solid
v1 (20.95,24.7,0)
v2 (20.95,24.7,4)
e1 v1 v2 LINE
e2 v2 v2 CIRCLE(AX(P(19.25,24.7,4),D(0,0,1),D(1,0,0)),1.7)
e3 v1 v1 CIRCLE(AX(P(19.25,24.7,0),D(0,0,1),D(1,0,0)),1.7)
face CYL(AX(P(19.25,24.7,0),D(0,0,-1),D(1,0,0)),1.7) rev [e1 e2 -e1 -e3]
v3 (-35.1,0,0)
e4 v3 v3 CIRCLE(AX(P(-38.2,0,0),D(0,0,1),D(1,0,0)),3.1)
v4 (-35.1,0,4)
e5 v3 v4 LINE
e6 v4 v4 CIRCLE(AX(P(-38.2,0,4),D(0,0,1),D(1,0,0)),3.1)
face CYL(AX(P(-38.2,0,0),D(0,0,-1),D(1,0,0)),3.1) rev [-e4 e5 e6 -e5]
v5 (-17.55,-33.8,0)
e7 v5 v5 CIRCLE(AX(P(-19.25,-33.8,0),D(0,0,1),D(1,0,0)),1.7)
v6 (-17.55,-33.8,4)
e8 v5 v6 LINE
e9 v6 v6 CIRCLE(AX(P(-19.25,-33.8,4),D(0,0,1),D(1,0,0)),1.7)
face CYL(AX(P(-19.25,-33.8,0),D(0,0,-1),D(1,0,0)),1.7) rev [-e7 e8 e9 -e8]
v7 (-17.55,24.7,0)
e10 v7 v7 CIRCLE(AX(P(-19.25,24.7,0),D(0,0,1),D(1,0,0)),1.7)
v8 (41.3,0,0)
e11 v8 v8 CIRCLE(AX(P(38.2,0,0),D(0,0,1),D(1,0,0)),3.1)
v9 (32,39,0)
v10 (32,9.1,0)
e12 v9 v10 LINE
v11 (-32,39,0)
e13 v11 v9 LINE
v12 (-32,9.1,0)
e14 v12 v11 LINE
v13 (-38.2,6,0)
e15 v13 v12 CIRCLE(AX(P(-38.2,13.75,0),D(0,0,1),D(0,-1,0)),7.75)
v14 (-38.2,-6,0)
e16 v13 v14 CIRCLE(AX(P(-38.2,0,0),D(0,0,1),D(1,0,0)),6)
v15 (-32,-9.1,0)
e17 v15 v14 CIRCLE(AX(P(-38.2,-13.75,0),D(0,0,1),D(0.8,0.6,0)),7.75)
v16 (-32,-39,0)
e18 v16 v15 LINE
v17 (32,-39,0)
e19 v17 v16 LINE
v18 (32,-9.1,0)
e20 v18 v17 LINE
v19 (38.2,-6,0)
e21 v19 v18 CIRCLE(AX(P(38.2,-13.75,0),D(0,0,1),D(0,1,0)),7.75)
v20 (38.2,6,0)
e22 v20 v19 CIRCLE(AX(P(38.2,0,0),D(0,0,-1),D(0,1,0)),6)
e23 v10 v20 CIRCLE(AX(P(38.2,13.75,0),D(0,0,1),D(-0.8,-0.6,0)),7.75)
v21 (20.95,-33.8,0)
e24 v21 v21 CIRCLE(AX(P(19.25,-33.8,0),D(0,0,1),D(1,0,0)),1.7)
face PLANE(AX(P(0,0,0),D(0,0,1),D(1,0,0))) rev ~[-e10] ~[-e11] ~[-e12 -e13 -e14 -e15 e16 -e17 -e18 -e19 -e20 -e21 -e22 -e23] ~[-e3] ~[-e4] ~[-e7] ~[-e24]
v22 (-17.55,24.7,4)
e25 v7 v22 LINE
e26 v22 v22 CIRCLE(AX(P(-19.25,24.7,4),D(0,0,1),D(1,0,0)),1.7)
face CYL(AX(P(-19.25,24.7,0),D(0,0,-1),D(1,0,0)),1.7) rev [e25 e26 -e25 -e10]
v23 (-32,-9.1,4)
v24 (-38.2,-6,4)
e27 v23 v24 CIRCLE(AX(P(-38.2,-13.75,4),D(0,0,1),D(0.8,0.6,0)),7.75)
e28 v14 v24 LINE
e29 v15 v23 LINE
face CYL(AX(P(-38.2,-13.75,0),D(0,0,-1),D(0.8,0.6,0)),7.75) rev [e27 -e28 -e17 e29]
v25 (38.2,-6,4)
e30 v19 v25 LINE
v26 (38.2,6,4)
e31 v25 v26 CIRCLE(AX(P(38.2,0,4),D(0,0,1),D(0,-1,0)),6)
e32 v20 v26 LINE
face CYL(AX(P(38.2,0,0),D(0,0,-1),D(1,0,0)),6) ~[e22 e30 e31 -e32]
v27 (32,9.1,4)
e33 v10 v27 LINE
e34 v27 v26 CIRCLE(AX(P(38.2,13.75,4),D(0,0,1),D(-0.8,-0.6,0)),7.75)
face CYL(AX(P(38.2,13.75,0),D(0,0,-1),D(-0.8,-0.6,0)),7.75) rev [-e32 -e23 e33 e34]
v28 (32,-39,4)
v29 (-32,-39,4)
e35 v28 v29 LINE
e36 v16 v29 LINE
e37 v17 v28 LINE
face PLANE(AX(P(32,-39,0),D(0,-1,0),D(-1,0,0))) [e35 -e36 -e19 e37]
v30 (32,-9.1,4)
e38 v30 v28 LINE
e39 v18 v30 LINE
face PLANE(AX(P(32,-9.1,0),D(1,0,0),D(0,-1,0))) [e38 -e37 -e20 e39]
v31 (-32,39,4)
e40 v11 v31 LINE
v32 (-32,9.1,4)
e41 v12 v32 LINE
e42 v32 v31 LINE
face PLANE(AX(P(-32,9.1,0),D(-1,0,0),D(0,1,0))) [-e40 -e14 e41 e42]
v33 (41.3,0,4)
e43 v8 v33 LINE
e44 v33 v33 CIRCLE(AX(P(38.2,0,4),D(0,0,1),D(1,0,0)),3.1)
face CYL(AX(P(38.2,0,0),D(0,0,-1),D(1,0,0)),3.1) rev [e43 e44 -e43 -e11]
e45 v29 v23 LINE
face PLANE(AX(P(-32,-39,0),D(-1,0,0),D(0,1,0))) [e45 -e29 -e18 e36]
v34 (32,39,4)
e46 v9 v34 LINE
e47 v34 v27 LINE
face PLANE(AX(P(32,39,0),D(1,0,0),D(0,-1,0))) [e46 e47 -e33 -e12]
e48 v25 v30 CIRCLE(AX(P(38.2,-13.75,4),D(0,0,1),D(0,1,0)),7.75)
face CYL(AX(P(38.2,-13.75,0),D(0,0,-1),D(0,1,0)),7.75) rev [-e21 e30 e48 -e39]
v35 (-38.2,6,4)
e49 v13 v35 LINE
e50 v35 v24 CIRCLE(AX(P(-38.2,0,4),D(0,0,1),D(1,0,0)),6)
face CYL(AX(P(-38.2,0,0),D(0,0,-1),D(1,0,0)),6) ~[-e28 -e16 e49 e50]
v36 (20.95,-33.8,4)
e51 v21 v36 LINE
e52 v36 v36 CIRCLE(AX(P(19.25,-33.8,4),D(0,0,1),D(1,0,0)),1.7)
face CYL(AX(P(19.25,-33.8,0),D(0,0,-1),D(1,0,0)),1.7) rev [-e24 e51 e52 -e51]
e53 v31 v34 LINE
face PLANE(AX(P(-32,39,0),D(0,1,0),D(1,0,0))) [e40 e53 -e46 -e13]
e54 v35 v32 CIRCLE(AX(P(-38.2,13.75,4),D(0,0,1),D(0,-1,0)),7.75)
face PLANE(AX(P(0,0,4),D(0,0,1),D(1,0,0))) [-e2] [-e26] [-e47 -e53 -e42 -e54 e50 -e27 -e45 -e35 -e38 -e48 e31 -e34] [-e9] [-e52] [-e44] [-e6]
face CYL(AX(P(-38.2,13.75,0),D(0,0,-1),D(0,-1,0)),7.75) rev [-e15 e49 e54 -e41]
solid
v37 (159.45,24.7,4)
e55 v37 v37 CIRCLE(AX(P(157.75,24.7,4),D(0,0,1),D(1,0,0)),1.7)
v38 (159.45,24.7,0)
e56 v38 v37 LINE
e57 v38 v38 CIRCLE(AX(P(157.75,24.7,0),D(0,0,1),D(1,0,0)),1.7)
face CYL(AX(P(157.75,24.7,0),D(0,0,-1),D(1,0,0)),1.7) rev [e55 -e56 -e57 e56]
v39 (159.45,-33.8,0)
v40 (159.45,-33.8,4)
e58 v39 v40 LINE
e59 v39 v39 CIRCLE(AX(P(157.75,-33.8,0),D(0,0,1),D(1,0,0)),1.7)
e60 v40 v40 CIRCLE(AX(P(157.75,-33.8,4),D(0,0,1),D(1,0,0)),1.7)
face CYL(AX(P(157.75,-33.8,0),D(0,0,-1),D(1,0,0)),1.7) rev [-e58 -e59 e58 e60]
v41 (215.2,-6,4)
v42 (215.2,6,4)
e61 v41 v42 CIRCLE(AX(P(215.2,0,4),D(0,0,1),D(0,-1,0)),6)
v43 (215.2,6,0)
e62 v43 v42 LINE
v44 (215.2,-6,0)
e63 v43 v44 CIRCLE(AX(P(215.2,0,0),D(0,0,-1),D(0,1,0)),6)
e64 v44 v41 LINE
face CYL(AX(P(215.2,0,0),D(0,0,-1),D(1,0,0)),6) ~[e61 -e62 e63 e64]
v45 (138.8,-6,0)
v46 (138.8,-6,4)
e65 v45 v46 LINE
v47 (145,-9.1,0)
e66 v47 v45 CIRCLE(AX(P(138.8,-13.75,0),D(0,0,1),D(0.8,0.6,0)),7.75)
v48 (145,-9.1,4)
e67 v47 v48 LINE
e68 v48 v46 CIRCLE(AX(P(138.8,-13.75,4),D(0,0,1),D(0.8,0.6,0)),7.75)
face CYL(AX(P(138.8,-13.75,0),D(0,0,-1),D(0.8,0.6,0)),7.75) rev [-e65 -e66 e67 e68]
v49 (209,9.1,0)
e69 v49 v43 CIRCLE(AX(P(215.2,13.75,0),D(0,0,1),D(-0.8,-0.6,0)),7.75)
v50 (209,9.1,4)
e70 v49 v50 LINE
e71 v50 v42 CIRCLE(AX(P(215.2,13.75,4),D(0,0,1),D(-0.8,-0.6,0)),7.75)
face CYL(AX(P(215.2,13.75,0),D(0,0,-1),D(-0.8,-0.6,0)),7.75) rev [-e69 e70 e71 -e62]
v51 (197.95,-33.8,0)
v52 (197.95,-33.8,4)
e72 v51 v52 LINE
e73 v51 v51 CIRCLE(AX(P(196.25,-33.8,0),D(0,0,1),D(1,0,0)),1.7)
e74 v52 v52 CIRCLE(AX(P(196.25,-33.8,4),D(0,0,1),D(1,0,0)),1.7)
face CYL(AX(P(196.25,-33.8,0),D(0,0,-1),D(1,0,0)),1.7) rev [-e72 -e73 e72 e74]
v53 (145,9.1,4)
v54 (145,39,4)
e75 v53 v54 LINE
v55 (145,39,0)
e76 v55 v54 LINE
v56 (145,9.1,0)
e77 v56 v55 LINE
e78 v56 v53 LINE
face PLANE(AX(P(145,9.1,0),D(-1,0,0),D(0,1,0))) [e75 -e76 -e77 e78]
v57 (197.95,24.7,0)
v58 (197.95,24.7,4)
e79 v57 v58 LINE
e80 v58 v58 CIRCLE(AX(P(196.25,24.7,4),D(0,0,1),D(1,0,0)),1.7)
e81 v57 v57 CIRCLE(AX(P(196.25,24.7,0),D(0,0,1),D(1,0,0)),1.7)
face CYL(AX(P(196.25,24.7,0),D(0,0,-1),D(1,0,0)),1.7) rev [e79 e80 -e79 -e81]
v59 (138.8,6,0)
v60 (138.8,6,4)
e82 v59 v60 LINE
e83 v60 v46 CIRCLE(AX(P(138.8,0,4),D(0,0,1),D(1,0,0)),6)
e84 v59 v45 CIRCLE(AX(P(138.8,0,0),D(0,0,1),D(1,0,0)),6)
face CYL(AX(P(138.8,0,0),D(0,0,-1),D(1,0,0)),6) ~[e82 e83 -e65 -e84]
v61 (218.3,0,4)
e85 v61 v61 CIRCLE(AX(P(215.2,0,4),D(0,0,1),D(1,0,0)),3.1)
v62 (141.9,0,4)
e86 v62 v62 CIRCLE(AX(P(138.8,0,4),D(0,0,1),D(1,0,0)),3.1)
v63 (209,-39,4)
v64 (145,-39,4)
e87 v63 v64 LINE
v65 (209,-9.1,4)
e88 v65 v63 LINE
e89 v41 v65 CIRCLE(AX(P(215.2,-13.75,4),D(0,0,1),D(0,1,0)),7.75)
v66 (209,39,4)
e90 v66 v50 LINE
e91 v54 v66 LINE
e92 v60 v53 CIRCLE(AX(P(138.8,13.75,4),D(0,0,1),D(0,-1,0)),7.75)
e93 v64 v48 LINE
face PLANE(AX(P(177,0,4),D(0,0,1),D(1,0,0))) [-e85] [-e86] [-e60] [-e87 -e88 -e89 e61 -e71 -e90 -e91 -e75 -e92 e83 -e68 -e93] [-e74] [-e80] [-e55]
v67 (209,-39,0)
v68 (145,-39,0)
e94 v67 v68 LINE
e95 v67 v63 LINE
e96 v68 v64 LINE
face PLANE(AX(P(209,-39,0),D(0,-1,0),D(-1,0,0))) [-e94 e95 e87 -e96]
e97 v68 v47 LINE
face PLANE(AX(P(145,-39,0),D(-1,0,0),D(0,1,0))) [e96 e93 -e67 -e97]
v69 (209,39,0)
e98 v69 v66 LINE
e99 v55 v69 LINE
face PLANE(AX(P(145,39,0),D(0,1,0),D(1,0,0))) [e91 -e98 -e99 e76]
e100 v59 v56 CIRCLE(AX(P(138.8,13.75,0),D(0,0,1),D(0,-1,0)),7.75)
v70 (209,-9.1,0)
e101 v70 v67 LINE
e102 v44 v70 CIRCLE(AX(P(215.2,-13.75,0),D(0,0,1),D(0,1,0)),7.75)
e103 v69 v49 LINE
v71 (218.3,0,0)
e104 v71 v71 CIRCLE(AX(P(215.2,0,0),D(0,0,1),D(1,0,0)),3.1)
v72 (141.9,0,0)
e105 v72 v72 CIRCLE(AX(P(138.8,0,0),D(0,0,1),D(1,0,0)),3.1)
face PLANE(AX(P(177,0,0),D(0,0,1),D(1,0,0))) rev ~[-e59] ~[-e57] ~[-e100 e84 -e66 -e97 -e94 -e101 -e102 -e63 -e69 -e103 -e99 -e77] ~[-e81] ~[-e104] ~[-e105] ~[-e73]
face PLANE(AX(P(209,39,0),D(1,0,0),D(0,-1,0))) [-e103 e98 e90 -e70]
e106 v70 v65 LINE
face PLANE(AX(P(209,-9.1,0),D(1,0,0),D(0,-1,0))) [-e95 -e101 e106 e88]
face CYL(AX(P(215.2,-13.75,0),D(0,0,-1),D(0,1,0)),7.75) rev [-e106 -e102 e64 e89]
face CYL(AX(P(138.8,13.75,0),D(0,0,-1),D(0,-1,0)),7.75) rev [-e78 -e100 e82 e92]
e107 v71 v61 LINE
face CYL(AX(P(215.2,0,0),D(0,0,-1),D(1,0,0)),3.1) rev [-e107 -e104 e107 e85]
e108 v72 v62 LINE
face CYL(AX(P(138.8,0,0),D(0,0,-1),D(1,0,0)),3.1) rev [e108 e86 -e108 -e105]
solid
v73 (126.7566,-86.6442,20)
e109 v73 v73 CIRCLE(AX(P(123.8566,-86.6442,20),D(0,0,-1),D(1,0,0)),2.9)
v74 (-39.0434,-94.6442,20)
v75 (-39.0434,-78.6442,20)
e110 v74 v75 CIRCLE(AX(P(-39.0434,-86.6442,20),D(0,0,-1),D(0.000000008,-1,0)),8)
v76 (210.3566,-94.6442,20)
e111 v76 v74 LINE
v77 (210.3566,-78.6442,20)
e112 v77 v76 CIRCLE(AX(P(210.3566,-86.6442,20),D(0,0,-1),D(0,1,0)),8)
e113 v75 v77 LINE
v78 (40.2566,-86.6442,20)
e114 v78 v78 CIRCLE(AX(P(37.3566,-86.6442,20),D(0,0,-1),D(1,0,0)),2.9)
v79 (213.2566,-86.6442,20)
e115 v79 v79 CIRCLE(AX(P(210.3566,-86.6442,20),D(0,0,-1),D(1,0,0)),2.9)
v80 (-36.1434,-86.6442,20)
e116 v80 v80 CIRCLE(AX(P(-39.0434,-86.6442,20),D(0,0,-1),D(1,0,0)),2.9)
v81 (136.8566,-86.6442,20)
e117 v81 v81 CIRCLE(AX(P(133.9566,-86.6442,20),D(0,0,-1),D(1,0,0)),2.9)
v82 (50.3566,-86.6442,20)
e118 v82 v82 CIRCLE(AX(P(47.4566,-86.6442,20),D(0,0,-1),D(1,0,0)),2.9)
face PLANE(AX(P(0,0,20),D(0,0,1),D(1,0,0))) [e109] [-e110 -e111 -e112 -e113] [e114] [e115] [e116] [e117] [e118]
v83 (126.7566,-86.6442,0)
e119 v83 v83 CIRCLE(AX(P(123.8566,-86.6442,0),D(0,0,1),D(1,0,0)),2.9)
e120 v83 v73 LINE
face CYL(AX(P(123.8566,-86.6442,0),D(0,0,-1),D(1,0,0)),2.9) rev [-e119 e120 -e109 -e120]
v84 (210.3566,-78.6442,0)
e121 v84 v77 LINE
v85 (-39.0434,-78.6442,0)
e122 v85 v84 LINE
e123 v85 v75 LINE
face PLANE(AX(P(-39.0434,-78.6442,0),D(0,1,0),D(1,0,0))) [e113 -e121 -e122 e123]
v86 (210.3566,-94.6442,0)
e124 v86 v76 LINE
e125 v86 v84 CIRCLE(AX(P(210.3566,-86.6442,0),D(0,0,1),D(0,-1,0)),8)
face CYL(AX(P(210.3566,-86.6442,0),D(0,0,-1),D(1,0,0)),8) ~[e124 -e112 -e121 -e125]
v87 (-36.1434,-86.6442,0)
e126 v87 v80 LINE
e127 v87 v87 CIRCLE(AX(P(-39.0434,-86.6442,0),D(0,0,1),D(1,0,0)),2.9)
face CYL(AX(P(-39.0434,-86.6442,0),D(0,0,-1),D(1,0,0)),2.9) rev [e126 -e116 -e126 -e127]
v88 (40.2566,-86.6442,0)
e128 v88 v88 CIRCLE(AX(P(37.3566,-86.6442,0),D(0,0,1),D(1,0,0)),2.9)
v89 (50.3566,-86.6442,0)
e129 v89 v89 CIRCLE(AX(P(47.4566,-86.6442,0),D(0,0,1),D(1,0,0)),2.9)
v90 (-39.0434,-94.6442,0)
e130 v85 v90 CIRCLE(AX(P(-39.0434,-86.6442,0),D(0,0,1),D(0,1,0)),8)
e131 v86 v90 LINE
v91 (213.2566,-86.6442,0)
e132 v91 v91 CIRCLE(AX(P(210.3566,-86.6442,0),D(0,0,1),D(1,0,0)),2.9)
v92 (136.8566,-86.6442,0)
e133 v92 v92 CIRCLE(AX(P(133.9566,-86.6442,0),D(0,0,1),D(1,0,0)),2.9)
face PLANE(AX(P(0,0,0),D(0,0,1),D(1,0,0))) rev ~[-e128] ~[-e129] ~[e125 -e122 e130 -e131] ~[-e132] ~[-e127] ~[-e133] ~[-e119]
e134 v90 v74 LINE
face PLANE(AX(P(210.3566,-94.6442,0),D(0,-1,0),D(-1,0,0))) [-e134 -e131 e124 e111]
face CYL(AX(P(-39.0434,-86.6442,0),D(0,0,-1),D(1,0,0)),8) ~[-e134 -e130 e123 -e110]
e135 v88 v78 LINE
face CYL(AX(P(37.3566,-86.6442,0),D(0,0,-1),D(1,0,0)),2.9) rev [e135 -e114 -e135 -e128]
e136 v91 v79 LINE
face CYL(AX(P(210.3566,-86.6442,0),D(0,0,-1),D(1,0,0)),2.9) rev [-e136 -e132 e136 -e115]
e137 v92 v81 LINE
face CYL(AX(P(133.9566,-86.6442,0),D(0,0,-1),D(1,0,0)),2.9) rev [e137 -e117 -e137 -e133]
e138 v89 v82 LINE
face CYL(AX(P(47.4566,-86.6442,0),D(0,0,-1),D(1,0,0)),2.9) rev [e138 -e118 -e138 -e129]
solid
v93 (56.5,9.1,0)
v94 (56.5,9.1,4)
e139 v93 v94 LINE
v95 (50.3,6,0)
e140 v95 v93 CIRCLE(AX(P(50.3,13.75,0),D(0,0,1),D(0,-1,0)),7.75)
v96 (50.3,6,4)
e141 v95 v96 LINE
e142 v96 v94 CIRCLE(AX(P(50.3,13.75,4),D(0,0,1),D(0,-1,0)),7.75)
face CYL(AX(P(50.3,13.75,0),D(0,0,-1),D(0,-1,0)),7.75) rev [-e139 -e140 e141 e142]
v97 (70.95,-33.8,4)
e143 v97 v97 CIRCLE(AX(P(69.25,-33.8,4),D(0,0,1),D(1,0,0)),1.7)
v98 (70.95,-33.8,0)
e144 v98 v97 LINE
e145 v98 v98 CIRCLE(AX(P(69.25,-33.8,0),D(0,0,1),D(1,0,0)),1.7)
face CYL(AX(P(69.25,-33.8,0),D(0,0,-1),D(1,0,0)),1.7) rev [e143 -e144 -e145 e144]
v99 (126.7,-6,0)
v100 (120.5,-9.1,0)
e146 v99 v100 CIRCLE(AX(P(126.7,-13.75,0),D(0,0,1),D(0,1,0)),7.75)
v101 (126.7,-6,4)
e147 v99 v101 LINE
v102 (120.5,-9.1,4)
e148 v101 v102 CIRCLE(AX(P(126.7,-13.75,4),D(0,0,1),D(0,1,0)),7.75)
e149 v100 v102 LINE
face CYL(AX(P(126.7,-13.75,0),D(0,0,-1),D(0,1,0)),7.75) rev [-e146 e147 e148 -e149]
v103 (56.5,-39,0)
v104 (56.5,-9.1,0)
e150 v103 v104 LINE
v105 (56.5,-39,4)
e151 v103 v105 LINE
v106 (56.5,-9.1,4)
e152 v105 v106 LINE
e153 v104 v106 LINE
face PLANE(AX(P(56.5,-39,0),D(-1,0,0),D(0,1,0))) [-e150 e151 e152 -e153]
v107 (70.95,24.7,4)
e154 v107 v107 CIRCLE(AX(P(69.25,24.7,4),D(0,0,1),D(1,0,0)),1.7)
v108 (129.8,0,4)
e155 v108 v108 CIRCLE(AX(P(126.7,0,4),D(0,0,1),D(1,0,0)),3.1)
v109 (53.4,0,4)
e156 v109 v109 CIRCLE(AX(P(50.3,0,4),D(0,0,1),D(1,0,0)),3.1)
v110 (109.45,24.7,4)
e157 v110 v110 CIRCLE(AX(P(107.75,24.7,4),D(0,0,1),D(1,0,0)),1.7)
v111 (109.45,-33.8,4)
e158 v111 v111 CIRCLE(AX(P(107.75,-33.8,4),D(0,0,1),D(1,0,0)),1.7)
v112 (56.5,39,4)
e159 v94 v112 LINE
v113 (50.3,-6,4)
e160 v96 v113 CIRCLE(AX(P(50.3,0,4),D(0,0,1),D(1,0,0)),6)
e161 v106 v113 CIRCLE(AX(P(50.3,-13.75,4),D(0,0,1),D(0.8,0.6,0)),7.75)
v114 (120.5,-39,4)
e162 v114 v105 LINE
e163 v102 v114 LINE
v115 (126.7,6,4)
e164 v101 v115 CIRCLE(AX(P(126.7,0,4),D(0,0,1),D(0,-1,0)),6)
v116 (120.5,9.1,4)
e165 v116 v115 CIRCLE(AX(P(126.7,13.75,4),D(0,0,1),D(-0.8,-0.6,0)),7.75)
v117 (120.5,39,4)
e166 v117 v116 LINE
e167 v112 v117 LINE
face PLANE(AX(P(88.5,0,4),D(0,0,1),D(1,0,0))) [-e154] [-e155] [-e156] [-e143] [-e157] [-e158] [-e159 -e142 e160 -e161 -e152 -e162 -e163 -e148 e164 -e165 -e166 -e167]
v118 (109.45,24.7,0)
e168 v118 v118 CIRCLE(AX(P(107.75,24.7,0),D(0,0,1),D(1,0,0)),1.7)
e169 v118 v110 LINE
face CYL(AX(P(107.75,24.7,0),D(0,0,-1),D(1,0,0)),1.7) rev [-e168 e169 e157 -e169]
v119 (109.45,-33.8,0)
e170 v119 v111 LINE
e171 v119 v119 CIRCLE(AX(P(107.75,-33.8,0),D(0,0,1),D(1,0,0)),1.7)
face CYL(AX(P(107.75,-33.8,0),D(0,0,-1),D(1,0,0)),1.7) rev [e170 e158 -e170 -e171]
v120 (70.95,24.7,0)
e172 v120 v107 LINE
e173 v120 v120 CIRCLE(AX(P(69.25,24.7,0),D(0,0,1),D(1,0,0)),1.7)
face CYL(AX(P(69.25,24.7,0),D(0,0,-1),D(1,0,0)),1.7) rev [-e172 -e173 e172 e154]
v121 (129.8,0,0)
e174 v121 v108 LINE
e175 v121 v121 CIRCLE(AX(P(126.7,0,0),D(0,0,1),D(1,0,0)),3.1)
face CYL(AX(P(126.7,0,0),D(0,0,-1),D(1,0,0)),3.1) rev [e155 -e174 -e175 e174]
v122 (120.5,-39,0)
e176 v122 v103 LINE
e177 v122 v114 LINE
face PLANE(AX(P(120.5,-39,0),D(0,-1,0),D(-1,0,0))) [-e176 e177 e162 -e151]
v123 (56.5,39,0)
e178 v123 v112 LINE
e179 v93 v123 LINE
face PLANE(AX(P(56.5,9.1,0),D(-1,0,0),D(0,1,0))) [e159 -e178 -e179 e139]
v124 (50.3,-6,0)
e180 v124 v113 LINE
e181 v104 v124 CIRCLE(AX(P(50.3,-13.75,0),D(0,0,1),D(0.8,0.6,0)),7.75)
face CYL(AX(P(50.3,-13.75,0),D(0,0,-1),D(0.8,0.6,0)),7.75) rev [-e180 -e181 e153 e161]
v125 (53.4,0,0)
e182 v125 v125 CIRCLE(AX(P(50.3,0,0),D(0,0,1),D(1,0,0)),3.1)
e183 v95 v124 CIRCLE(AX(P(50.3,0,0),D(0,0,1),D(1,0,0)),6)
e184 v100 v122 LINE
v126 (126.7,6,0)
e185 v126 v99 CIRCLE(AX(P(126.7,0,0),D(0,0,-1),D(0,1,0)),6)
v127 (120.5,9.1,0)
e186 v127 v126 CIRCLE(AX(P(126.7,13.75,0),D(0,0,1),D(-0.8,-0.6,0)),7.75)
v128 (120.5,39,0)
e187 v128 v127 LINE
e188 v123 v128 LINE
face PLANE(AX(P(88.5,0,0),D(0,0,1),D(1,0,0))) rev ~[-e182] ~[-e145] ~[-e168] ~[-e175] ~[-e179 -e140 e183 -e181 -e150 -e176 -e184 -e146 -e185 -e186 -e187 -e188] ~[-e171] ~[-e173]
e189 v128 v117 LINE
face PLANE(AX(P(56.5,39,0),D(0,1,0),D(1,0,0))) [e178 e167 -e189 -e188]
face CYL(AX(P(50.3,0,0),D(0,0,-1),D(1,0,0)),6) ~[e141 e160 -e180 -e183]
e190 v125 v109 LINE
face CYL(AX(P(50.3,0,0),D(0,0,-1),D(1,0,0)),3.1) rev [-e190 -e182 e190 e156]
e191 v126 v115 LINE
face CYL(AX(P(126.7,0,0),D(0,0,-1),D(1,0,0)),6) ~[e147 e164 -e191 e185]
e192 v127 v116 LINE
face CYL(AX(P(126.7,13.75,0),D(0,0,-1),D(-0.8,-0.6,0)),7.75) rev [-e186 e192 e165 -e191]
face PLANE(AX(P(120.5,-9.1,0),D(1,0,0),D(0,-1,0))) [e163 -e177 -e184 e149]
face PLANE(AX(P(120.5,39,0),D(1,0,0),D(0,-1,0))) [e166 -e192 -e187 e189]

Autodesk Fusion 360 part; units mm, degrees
sketch "Schizzo1" plane through (0, 0, 0) normal (0, 0, 1) x (1, 0, 0)
  line L0 (32, -39) -> (-32, -39)
  line L1 (-32, -39) -> (-32, 39)
  line L2 (-32, 39) -> (32, 39)
  line L3 (32, 39) -> (32, -39)
  line L4 (32, -39) -> (-32, 39) construction
  line L5 (-32, -39) -> (32, 39) construction
  line L6 (-19.25, 24.7) -> (19.25, 24.7) construction
  line L7 (19.25, 24.7) -> (19.25, -33.8) construction
  line L8 (19.25, -33.8) -> (-19.25, -33.8) construction
  line L9 (-19.25, -33.8) -> (-19.25, 24.7) construction
  circle A0 centre (-19.25, 24.7) radius 1.7
  line L10 (0, 0) -> (0, 80) construction
  line L11 (0, 0) -> (0, -60) construction
  line L12 (-32, 0) -> (32, 0) construction
  circle A1 centre (-19.25, -33.8) radius 1.7
  circle A2 centre (19.25, -33.8) radius 1.7
  circle A3 centre (19.25, 24.7) radius 1.7
  line L13 (-32, 0) -> (-48, 0) construction
  line L14 (-38.2, 20.7498) -> (-38.2, -13.75) construction
  circle A4 centre (-38.2, 0) radius 6
  line L15 (-38.2, -6) -> (-46, -6) construction
  line L16 (-46, -9.1) -> (-32, -9.1) construction
  arc A5 (-32, -9.1) -> (-38.2, -6) centre (-38.2, -13.75) ccw
  arc A6 (-38.2, 6) -> (-32, 9.1) centre (-38.2, 13.75) ccw
  circle A7 centre (38.2, 0) radius 6
  arc A8 (32, 9.1) -> (38.2, 6) centre (38.2, 13.75) ccw
  arc A9 (38.2, -6) -> (32, -9.1) centre (38.2, -13.75) ccw
  line L17 (-47.0434, -78.6442) -> (226.9, -78.6442)
  line L18 (226.9, -78.6442) -> (226.9, -94.6442)
  line L19 (226.9, -94.6442) -> (-47.0434, -94.6442)
  line L20 (-47.0434, -94.6442) -> (-47.0434, -78.6442)
  circle A10 centre (-39.0434, -86.6442) radius 8
  line L21 (-39.0434, -60) -> (-39.0434, -104.1406) construction
  circle A11 centre (-39.0434, -86.6442) radius 2.9
  line L22 (37.3566, -65) -> (37.3566, -105) construction
  line L23 (226.9, -86.6442) -> (-120, -86.6442) construction
  circle A12 centre (37.3566, -86.6442) radius 2.9
  line L24 (47.4566, -68.4362) -> (47.4566, -114.7306) construction
  circle A13 centre (47.4566, -86.6442) radius 2.9
  line L25 (123.8566, -70) -> (123.8566, -110) construction
  circle A14 centre (123.8566, -86.6442) radius 2.9
  line L26 (133.9566, -70) -> (133.9566, -110) construction
  line L27 (210.3566, -70) -> (210.3566, -110) construction
  circle A15 centre (133.9566, -86.6442) radius 2.9
  circle A16 centre (210.3566, -86.6442) radius 2.9
  circle A17 centre (210.3566, -86.6442) radius 8
  line L28 (-47.0434, -86.6442) -> (218.3566, -86.6442)
  line L29 (218.3566, -86.6442) -> (-47.0434, -86.6442)
  line L30 (-47.0434, -86.6442) -> (-47.0434, -150) construction
  line L31 (218.3566, -86.6442) -> (218.3566, -150) construction
  circle A18 centre (-38.2, 0) radius 3.1
  circle A19 centre (38.2, 0) radius 3.1
  dimension "d1" = 64
  dimension "d2" = 78
  dimension "d3" = 33.8
  dimension "d5" = 58.5
  dimension "d6" = 19.25
  dimension "d7" = 38.5
  dimension "d8" = 3.4
  dimension "d9" = 3.4
  dimension "d17" = 6.2
  dimension "d18" = 12
  dimension "d19" = 3.1
  dimension "d20" = 76.4
  dimension "d21" = 16
  dimension "d22" = 8
  dimension "d23" = 5.8
  dimension "d24" = 76.4
  dimension "d25" = 5.8
  dimension "d28" = 86.5
  dimension "d29" = 5.8
  dimension "d30" = 76.4
  dimension "d32" = 5.8
  dimension "d33" = 86.5
  dimension "d34" = 76.4
  dimension "d35" = 5.8
  dimension "d36" = 5.8
  dimension "d39" = 6.2
extrude "Estrusione1" add sketch "Schizzo1" along normal blind 4 contours L0 L1 L2 L3 | L3 A7 A8 A9 | L1 A4 A5 A6 | A7 | A4 makes body 1
pattern_linear "Serie R1" count 1 spacing 0 along (0, 1, 0) count 3 spacing 88.5 along (1, 0, 0) of bodies 1 makes body 2 at (94.6333, 1.6759, 0) makes body 3 at (183.1333, 1.6759, 0)
extrude "Estrusione2" add sketch "Schizzo1" along normal blind 20 separate body contours L17 A10 A12 A13 A14 A15 A17 L28 L29 | A10 A11 L28 L29 | A10 A11 L28 L29 | A16 A17 L28 L29 | L19 A10 A12 A13 A14 A15 A17 L28 L29 | A16 A17 L28 L29 makes body 4
sketch "Schizzo2" plane through (0, 0, 0) normal (0, 0, 1) x (1, 0, 0)
  line L0 (-157.1405, -7.8769) -> (-137.1405, -7.8769)
  line L1 (-137.1405, -7.8769) -> (-137.1405, -4.8769)
  line L2 (-137.1405, -4.8769) -> (-157.1405, -4.8769)
  line L3 (-157.1405, -4.8769) -> (-157.1405, -7.8769)
  line L4 (-157.1405, -6.3769) -> (-137.1405, -6.3769) construction
  line L5 (-147.1405, -4.8769) -> (-147.1405, -7.8769) construction
  line L6 (-142.1405, -7.8769) -> (-152.1405, -7.8769)
  line L7 (-152.1405, -7.8769) -> (-152.1405, -4.8769)
  line L8 (-152.1405, -4.8769) -> (-142.1405, -4.8769)
  line L9 (-142.1405, -4.8769) -> (-142.1405, -7.8769)
  line L10 (-142.1405, -7.8769) -> (-152.1405, -4.8769) construction
  line L11 (-152.1405, -7.8769) -> (-142.1405, -4.8769) construction
  line L12 (-142.1405, -6.8769) -> (-152.1405, -6.8769)
  line L13 (-152.1405, -6.8769) -> (-152.1405, -5.8769)
  line L14 (-152.1405, -5.8769) -> (-142.1405, -5.8769)
  line L15 (-142.1405, -5.8769) -> (-142.1405, -6.8769)
  line L16 (-142.1405, -6.8769) -> (-152.1405, -5.8769) construction
  line L17 (-152.1405, -6.8769) -> (-142.1405, -5.8769) construction
  line L18 (-157.1405, 1.6231) -> (-47.1405, 1.6231)
  line L19 (-47.1405, 1.6231) -> (-47.1405, -14.3769)
  line L20 (-47.1405, -14.3769) -> (-157.1405, -14.3769)
  line L21 (-157.1405, -14.3769) -> (-157.1405, 1.6231)
  point P0 (-147.1405, -6.3769)
  point P1 (-147.1405, -6.3769)
  dimension "d40" = 20
  dimension "d41" = 3
  dimension "d42" = 10
  dimension "d43" = 3
  dimension "d44" = 10
  dimension "d45" = 1
  dimension "d50" = 110
  dimension "d51" = 8
  dimension "d52" = 16
extrude "Estrusione3" add sketch "Schizzo2" along normal blind 4.5 separate body contours L0 L6 L7 L9 L12 | L2 L7 L8 L9 L14 makes body 5 at (-145.4738, -6.8769, 1.5) makes body 6 at (-145.4738, -4.8769, 1.5)
extrude "Estrusione4" add sketch "Schizzo2" against normal blind 20 separate body makes body 7
combine "Combina1" operation add target body 6 tool bodies 7
combine "Combina2" operation add target body 5 tool bodies 6
sketch "Schizzo3" plane through (-152.1405, 0, 0) normal (-1, 0, 0) x (0, -1, 0)
  line L0 (4.8769, 0) -> (5.8769, 0)
  line L1 (5.8769, 0) -> (5.8769, 4.5)
  line L2 (5.8769, 4.5) -> (4.8769, 4.5)
  line L3 (4.8769, 4.5) -> (4.8769, 0)
sketch "Schizzo5" plane through (-152.1405, -5.3769, 2.25) normal (-1, 0, 0) x (0, -1, 0)
  line L0 (0.5, 2.25) -> (0.5, 4.484) construction
  line L1 (1.5, 2.25) -> (1.5, 4.4786) construction
  line L2 (0.5, 2.25) -> (1.5, 2.25) construction
  line L3 (1, 2.25) -> (1, 4.5) construction
  line L4 (0.5, 2.25) -> (-2.3514, 2.25) construction
  line L5 (0.5, 2.25) -> (-1, 2.25)
  line L6 (0.5, 2.25) -> (0.5, 4.25)
  line L7 (0.5, 4.25) -> (-1, 2.25)
  line L8 (1.5, 4.25) -> (3, 2.25)
  line L9 (1.5, 2.25) -> (3, 2.25)
  line L10 (1.5, 2.25) -> (1.5, 4.25)
  dimension "d59" = 1.5
  dimension "d60" = 2
extrude "Estrusione6" add sketch "Schizzo5" against normal blind 10 bodies 5
hidden bodies 5
equation "d6 = 38.50 mm / 2"
